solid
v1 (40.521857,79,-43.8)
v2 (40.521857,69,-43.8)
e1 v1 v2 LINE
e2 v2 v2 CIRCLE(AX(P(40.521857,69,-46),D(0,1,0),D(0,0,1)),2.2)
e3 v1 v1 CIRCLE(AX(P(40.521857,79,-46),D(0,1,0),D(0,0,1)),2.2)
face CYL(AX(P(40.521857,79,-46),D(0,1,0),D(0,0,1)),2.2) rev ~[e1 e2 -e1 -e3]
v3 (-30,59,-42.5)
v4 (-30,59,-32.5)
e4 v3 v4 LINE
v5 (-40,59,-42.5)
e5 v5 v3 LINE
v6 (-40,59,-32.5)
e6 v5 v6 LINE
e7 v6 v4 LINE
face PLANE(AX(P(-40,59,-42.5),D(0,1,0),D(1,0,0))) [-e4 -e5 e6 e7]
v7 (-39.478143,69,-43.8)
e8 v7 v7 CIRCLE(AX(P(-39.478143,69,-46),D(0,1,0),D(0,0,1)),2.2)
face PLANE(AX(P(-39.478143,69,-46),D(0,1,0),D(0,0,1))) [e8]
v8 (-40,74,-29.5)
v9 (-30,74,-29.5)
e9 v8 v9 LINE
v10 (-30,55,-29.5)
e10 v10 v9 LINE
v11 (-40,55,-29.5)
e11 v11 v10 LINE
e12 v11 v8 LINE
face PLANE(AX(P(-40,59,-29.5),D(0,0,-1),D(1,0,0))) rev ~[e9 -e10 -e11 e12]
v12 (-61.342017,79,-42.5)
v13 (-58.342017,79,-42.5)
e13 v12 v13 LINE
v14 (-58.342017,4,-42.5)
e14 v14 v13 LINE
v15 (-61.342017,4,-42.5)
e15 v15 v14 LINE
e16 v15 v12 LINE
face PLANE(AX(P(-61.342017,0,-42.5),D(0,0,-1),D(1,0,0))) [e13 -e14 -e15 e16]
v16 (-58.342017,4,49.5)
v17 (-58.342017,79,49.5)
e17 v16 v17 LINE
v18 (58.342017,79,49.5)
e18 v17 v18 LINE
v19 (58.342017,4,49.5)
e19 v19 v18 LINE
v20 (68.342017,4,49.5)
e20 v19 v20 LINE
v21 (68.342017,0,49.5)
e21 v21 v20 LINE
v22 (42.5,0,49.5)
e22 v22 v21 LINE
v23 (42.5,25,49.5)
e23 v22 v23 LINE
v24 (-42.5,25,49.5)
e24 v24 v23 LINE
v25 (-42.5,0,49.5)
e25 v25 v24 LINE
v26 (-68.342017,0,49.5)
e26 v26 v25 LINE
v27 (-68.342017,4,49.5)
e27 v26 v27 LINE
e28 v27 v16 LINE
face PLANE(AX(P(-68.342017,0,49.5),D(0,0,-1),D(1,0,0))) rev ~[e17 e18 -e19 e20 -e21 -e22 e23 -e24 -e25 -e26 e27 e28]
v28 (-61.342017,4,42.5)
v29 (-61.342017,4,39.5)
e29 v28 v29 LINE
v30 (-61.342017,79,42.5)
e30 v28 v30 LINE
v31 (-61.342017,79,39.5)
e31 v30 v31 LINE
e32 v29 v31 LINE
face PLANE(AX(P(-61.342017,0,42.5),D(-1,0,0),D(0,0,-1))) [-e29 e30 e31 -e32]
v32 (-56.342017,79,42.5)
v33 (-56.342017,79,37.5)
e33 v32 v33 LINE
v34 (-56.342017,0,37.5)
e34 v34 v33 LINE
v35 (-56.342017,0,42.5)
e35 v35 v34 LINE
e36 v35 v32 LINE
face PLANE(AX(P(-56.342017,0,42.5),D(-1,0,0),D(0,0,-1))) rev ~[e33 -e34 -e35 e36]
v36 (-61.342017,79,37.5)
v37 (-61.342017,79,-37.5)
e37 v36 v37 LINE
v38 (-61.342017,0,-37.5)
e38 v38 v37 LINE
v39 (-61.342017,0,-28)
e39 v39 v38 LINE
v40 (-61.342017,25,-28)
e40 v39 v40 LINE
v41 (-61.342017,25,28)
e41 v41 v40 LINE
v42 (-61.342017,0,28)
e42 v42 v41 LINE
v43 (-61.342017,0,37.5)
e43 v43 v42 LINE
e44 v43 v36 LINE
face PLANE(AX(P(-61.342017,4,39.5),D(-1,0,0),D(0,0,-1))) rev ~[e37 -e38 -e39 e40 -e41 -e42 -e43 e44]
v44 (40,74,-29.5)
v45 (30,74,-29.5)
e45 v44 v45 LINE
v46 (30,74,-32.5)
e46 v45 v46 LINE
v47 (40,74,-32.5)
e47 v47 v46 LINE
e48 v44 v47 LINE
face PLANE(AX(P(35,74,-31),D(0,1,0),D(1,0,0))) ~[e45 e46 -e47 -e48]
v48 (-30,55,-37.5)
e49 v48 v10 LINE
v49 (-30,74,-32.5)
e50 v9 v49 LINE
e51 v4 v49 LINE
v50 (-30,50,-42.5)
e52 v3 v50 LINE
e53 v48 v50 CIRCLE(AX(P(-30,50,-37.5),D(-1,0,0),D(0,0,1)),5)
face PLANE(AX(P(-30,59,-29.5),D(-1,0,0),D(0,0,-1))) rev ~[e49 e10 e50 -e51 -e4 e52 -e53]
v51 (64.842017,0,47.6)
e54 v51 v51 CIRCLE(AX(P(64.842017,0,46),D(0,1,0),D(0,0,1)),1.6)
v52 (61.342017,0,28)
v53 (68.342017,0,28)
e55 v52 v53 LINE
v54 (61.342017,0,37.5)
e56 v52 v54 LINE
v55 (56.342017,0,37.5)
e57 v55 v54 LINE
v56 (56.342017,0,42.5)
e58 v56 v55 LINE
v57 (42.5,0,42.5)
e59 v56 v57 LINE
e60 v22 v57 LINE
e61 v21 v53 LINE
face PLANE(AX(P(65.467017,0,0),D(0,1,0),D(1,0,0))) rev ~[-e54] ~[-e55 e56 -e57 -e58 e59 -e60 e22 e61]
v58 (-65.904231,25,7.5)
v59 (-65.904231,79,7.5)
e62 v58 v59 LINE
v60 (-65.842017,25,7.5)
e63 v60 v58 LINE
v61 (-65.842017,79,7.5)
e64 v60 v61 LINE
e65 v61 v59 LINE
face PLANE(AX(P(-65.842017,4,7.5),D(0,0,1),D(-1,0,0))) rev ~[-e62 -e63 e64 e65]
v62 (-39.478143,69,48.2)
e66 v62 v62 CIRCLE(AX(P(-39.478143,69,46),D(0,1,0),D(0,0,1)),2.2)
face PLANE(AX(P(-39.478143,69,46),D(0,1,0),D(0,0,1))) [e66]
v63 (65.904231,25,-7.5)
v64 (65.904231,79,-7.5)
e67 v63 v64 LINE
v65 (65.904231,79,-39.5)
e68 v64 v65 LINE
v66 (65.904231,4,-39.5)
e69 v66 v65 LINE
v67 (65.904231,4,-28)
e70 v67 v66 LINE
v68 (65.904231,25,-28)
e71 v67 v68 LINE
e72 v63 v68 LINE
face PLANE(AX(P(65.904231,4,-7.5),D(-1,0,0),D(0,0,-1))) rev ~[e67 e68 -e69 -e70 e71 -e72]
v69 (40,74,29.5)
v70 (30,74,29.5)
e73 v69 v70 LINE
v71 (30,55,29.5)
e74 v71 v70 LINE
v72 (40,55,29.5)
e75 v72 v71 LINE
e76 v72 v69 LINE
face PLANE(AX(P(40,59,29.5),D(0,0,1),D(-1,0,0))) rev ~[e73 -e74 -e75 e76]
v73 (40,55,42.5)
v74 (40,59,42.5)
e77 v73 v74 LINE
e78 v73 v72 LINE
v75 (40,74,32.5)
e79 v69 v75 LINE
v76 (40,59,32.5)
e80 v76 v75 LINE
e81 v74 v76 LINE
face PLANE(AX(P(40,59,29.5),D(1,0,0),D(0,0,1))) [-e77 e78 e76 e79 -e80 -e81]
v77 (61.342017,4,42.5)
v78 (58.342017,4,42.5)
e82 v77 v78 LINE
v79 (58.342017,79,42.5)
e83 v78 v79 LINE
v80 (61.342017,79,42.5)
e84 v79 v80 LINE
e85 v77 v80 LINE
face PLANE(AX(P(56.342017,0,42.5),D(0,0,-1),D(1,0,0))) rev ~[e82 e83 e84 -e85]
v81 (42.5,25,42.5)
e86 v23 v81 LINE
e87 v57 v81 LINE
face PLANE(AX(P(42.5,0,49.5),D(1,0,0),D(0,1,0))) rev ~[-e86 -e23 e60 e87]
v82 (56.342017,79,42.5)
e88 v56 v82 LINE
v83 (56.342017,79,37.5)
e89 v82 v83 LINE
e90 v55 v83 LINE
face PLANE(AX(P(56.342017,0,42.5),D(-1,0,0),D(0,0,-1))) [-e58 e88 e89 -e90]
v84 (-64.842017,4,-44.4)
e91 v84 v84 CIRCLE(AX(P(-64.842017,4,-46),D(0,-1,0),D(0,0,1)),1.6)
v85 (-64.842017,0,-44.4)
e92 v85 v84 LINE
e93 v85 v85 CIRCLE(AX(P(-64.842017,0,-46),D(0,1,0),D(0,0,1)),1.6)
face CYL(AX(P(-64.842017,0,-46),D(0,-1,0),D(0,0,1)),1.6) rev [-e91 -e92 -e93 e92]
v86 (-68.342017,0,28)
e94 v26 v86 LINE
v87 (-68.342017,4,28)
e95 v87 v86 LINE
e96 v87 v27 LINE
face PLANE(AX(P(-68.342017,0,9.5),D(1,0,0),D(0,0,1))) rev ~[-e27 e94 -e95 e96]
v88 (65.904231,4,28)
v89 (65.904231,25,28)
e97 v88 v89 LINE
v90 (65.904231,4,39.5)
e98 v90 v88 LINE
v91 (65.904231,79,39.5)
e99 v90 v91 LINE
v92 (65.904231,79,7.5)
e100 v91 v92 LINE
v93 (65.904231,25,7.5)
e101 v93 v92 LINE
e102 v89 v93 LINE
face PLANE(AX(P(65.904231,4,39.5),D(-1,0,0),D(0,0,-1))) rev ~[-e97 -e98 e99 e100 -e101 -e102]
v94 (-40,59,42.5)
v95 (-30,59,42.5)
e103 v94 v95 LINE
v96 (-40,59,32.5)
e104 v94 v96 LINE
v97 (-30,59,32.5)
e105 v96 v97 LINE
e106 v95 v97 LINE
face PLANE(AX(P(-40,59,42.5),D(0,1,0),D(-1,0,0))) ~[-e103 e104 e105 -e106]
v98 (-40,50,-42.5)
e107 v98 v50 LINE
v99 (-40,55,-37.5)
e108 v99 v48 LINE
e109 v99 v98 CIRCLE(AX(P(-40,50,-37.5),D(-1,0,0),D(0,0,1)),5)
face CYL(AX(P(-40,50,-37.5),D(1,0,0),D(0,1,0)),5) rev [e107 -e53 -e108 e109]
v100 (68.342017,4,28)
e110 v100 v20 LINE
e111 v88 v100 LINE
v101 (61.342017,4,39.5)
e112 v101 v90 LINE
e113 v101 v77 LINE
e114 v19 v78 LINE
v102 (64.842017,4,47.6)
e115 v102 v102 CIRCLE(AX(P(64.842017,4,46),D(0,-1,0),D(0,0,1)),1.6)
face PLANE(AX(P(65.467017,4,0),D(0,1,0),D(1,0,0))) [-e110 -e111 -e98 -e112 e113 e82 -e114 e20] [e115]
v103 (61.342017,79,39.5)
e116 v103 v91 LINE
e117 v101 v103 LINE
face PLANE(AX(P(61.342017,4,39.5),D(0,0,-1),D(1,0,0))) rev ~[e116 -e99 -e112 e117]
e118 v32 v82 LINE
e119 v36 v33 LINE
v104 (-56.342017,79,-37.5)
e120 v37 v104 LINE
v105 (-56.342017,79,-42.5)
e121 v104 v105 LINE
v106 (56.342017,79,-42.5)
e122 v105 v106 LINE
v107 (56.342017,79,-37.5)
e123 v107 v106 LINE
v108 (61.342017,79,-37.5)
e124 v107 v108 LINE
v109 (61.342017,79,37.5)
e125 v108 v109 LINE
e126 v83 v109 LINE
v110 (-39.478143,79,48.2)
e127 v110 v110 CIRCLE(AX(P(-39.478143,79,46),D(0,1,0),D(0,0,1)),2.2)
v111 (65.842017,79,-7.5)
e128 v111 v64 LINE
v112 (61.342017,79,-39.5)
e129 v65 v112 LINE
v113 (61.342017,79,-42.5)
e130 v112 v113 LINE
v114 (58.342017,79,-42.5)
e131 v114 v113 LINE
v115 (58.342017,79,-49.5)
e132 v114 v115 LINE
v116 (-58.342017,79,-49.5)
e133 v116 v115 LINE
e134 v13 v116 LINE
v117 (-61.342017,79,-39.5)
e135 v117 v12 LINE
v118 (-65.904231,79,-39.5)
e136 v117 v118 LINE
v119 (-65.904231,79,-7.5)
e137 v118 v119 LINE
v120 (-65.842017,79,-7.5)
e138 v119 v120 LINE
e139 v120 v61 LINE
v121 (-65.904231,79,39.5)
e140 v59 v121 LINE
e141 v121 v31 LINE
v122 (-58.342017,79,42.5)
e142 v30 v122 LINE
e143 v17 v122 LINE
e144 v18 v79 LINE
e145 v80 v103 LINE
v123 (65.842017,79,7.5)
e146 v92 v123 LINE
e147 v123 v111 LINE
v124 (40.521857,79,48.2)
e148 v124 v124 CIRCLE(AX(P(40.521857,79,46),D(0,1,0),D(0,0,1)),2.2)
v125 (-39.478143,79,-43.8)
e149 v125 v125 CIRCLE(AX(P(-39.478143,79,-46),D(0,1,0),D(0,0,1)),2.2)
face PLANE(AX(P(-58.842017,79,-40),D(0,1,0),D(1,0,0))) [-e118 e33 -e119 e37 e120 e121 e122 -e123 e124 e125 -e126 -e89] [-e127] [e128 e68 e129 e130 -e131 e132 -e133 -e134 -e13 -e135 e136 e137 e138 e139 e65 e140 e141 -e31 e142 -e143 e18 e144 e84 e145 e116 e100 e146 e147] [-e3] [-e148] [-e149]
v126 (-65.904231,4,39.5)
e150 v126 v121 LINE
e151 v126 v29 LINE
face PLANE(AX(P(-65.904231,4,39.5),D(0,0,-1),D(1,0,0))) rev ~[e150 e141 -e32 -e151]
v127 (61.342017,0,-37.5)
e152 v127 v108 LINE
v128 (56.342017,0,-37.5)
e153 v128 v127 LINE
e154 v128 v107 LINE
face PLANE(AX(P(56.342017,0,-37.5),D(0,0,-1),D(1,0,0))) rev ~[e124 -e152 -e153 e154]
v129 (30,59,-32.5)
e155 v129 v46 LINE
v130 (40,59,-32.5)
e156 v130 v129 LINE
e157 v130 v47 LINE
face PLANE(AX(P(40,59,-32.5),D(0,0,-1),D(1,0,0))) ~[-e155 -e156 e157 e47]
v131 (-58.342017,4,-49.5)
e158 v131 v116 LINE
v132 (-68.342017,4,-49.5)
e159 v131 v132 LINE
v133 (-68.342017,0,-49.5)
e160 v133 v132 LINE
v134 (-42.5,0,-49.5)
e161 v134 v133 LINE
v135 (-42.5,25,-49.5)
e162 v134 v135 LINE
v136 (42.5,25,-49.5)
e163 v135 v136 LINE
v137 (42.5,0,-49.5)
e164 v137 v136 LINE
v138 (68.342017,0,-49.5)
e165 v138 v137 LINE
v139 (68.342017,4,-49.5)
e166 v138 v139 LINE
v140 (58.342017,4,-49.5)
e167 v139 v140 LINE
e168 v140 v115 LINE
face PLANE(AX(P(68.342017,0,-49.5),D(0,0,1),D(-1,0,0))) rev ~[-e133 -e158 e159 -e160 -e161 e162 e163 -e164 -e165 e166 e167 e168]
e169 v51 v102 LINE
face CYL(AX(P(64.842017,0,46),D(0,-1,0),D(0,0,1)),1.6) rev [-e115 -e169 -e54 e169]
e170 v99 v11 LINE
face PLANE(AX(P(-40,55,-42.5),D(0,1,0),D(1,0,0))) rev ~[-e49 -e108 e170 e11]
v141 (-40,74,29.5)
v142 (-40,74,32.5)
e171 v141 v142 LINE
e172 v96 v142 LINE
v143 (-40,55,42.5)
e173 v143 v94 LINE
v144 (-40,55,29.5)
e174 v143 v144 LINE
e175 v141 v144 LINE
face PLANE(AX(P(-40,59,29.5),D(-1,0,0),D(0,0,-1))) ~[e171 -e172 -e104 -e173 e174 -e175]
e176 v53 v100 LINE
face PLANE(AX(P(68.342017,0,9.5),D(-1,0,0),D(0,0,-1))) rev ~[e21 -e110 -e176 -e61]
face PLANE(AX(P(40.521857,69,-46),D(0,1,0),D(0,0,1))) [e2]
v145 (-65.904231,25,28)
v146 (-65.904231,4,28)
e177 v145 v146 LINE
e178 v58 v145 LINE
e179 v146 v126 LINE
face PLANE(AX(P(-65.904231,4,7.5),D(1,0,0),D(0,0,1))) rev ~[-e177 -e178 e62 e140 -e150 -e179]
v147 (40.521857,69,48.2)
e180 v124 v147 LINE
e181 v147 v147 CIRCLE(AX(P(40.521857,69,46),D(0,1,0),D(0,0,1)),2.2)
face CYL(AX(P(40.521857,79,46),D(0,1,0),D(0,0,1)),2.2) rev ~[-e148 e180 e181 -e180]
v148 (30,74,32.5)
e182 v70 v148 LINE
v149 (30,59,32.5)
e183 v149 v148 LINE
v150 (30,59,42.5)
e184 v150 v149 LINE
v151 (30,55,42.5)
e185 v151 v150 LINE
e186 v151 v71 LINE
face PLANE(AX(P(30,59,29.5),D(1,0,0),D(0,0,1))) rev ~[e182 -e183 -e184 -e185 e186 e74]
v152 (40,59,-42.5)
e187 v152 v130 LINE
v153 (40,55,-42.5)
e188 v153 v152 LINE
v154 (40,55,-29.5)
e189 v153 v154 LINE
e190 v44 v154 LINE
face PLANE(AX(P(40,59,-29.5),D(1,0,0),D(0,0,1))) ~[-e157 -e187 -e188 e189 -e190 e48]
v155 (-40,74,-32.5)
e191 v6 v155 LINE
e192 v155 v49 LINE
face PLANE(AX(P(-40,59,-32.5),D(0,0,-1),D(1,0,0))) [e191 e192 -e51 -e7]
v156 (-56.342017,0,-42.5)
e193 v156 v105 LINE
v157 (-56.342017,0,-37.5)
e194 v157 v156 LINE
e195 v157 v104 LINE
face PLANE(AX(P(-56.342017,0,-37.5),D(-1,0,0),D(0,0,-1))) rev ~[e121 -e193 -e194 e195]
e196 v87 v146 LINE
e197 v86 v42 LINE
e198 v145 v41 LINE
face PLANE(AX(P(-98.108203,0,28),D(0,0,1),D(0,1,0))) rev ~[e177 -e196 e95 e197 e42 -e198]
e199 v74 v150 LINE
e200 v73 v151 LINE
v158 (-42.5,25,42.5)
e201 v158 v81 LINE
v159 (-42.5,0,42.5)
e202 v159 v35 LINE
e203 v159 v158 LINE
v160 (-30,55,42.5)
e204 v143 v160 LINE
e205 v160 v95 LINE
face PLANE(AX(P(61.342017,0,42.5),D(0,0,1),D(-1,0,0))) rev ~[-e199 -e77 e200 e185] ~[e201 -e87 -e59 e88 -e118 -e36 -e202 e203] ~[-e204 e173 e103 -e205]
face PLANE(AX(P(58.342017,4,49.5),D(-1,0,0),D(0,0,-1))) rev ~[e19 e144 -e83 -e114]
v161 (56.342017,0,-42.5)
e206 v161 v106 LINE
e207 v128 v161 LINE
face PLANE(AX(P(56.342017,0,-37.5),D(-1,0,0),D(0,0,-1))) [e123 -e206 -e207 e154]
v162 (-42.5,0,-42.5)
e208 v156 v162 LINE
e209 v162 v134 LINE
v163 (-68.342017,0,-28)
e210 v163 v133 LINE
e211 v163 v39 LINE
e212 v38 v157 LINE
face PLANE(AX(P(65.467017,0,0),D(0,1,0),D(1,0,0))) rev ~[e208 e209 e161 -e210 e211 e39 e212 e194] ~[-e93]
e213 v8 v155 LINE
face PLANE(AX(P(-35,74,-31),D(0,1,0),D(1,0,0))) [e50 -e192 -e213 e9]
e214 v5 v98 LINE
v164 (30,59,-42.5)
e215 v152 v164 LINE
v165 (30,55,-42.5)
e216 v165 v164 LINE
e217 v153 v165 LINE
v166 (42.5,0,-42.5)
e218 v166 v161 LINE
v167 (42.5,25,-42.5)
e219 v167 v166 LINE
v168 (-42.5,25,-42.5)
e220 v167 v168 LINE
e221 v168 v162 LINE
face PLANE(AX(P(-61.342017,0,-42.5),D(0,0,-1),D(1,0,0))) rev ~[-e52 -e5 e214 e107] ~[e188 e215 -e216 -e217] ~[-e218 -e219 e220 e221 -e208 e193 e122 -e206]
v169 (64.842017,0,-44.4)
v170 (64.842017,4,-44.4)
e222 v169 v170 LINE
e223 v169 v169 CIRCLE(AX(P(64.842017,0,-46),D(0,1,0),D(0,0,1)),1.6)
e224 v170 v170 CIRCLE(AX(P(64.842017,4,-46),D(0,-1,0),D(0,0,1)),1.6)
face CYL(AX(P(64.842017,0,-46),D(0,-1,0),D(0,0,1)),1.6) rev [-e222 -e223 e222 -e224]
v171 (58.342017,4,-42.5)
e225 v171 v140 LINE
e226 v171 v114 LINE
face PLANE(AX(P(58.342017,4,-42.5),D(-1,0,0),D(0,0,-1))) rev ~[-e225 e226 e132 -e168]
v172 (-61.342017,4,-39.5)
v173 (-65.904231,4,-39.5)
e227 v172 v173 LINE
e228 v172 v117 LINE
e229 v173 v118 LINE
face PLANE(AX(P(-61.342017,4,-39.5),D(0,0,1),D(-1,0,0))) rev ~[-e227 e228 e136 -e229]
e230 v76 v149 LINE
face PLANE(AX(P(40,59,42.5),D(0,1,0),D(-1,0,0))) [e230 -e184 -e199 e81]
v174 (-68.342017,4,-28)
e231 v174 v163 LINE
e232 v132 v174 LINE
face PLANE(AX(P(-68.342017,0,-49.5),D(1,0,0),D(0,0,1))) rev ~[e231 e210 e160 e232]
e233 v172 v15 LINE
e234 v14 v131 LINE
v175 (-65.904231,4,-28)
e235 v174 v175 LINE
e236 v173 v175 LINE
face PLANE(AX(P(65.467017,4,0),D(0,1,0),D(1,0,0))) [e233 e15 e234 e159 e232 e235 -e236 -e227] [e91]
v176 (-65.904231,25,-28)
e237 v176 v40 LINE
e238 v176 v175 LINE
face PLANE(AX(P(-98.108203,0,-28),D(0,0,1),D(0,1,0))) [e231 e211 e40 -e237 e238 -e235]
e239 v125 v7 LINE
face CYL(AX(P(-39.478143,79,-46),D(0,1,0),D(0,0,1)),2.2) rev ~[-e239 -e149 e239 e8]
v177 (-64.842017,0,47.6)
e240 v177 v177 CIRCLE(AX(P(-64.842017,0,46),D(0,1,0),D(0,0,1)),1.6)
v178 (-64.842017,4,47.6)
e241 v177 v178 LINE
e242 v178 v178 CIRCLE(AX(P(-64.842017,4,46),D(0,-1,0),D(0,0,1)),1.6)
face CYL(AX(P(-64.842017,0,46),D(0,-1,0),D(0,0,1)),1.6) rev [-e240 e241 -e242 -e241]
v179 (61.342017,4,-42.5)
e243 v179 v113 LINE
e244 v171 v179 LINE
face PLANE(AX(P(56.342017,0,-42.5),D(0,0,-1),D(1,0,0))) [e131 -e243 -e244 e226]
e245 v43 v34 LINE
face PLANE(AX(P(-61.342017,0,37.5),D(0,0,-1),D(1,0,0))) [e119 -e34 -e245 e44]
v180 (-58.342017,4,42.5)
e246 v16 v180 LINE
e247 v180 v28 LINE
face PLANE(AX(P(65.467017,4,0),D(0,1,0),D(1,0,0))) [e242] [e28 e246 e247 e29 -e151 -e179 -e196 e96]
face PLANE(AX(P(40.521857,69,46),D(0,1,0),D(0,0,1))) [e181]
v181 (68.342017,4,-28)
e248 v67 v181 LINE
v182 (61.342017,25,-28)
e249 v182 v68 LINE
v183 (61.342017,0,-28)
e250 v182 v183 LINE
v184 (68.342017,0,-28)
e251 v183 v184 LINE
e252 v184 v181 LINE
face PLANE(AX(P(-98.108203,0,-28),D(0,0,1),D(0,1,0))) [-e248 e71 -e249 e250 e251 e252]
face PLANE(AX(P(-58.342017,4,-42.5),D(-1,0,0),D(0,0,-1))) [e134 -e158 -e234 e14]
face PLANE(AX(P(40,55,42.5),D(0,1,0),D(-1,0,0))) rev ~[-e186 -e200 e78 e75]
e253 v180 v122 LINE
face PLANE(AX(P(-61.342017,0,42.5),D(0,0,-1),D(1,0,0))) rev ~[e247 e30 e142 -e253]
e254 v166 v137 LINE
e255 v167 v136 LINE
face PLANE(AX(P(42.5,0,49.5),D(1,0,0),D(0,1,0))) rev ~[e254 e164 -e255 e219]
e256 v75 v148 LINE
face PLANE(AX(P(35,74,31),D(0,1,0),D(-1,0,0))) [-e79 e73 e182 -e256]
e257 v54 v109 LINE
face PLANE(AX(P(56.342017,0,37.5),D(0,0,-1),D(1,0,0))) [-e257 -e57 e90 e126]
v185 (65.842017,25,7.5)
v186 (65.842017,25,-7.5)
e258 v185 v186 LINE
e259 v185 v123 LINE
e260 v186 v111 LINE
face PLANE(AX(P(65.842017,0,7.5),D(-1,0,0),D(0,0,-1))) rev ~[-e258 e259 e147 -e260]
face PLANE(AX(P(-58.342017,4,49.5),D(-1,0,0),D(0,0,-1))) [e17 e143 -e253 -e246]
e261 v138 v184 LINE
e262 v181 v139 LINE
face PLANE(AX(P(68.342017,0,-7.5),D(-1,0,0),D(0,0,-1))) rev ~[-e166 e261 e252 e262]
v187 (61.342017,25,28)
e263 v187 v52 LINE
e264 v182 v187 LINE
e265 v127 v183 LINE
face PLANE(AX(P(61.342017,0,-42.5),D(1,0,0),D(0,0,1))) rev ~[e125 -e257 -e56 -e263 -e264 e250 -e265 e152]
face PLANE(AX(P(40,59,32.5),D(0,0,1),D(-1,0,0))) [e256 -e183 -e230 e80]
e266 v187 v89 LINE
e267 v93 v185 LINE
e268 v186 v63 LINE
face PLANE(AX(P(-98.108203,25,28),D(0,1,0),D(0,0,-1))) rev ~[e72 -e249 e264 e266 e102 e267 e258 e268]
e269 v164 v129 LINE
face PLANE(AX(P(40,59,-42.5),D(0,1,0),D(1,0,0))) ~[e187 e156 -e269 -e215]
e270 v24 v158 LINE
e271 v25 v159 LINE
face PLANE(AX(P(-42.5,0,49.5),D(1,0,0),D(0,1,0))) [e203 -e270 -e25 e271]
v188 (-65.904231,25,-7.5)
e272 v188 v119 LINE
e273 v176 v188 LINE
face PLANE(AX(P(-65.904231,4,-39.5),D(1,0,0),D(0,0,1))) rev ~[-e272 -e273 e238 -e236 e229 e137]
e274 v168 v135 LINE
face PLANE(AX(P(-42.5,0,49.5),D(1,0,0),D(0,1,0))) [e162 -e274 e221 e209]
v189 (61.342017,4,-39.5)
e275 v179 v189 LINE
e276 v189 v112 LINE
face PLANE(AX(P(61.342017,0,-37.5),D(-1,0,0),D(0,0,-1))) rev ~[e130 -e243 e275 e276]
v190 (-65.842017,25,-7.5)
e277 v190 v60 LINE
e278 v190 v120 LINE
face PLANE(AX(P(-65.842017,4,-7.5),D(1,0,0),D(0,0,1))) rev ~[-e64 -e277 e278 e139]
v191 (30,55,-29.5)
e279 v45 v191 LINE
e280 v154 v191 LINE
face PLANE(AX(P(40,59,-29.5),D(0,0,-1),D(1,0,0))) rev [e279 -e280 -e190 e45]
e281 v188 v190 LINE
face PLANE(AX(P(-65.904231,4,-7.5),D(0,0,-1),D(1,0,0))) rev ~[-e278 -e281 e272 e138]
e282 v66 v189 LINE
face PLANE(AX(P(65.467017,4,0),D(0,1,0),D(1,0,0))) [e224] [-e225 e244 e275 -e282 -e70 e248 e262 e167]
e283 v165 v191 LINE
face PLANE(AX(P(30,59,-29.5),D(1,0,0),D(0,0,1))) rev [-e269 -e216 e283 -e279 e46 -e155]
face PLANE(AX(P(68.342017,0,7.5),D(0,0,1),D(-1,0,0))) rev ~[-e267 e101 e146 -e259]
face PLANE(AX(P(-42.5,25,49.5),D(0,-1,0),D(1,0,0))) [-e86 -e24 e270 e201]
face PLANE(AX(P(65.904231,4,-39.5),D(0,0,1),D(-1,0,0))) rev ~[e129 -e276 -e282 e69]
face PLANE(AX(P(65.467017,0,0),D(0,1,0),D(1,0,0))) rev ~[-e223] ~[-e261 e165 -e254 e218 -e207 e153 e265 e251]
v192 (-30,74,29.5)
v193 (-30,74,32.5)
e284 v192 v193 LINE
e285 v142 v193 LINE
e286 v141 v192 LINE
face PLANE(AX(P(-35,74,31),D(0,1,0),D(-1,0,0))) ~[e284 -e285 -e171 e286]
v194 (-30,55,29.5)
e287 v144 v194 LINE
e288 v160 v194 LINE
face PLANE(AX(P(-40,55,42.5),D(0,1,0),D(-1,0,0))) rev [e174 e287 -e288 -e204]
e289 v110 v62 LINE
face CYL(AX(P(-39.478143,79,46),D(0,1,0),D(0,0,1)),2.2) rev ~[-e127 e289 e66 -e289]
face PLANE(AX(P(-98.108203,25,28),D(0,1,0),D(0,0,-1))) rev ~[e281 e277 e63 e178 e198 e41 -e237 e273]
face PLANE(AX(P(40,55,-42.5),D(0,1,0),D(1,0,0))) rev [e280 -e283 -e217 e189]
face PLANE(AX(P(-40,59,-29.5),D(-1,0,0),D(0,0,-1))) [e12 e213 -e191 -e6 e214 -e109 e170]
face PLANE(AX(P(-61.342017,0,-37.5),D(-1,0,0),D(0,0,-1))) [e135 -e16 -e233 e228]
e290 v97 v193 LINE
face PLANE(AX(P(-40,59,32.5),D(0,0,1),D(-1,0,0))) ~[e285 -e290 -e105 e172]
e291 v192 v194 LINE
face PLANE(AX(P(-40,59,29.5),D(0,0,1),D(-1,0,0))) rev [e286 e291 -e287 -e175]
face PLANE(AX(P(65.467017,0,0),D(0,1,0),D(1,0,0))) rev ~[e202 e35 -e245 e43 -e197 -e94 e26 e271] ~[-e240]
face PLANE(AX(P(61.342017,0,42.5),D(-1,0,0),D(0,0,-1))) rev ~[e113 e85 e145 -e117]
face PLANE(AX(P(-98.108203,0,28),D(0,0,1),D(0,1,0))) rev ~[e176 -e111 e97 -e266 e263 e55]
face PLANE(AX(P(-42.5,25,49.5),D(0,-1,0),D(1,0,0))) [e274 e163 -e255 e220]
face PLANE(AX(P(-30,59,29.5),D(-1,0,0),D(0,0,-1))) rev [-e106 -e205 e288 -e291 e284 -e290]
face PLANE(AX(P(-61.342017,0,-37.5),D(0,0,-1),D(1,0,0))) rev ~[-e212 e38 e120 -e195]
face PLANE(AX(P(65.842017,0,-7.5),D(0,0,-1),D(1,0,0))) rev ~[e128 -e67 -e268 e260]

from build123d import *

# Parameters (mm, degrees)
SKETCH1_W               = 122.684034766
SKETCH1_H               = 85
BOSS_EXTRUDE1_DEPTH     = 4
CUT_EXTRUDE3_REACH      = 86.48
SKETCH3_R               = 1.6
SKETCH4_W               = 116.684034766
SKETCH4_H               = 7
BOSS_EXTRUDE2_DEPTH     = 75
SKETCH1_3_W             = 5
SKETCH1_3_H             = 5
BOSS_EXTRUDE3_DEPTH     = 79
SKETCH5_W               = 85
SKETCH5_H               = 25
CUT_EXTRUDE4_DEPTH      = 144.918835946
CUT_EXTRUDE5_DEPTH      = 166.450220187
CUT_EXTRUDE5_DEPTH_BACK = 166.450220187
SKETCH6_W               = 56
SKETCH6_H               = 25
SKETCH7_R               = 2.2
CUT_EXTRUDE6_DEPTH      = 10
BOSS_EXTRUDE4_DEPTH     = 13
SKETCH9_W               = 10
SKETCH9_H               = 3
BOSS_EXTRUDE5_DEPTH     = 15
FILLET1_R               = 5
MIRROR2_COPY_1_DEPTH    = 13
MIRROR2_COPY_2_SKETCH_W = 10
MIRROR2_COPY_2_SKETCH_H = 3
MIRROR2_COPY_2_DEPTH    = 15


with BuildPart() as part:
    # Sketch1 → Boss-Extrude1 (new body)
    with BuildSketch(Plane(origin=(0, 0, 0), x_dir=(1, 0, 0), z_dir=(0, 1, 0))):
        Polygon((-68.342017383, -49.5), (68.342017383, -49.5), (68.342017383, -7.5), (65.842017383, -7.5), (65.842017383, 7.5), (68.342017383, 7.5), (68.342017383, 49.5), (-68.342017383, 49.5), (-68.342017383, 7.5), (-65.842017383, 7.5), (-65.842017383, -7.5), (-68.342017383, -7.5), align=None)
        Rectangle(SKETCH1_W, SKETCH1_H, mode=Mode.SUBTRACT)
    extrude(amount=BOSS_EXTRUDE1_DEPTH)

    # Sketch3 → Cut-Extrude3 (cut, up to next)
    with BuildSketch(Plane(origin=(0, 0, 0), x_dir=(1, 0, 0), z_dir=(0, 1, 0)), mode=Mode.PRIVATE) as cut_extrude3_sk1:
        with Locations((64.842017383, -46)):
            Circle(SKETCH3_R)
    cut_extrude3_tool1 = extrude(cut_extrude3_sk1.sketch, amount=CUT_EXTRUDE3_REACH, mode=Mode.PRIVATE) & part.part
    # Sketch3 → Cut-Extrude3 (cut, up to next)
    with BuildSketch(Plane(origin=(0, 0, 0), x_dir=(1, 0, 0), z_dir=(0, 1, 0)), mode=Mode.PRIVATE) as cut_extrude3_sk2:
        with Locations((64.842017383, 46)):
            Circle(SKETCH3_R)
    cut_extrude3_tool2 = extrude(cut_extrude3_sk2.sketch, amount=CUT_EXTRUDE3_REACH, mode=Mode.PRIVATE) & part.part
    # Sketch3 → Cut-Extrude3 (cut, up to next)
    with BuildSketch(Plane(origin=(0, 0, 0), x_dir=(1, 0, 0), z_dir=(0, 1, 0)), mode=Mode.PRIVATE) as cut_extrude3_sk3:
        with Locations((-64.842017383, 46)):
            Circle(SKETCH3_R)
    cut_extrude3_tool3 = extrude(cut_extrude3_sk3.sketch, amount=CUT_EXTRUDE3_REACH, mode=Mode.PRIVATE) & part.part
    # Sketch3 → Cut-Extrude3 (cut, up to next)
    with BuildSketch(Plane(origin=(0, 0, 0), x_dir=(1, 0, 0), z_dir=(0, 1, 0)), mode=Mode.PRIVATE) as cut_extrude3_sk4:
        with Locations((-64.842017383, -46)):
            Circle(SKETCH3_R)
    cut_extrude3_tool4 = extrude(cut_extrude3_sk4.sketch, amount=CUT_EXTRUDE3_REACH, mode=Mode.PRIVATE) & part.part
    add(cut_extrude3_tool1.solids().sort_by_distance((64.842017, 0, 46))[0], mode=Mode.SUBTRACT)
    add(cut_extrude3_tool2.solids().sort_by_distance((64.842017, 0, -46))[0], mode=Mode.SUBTRACT)
    add(cut_extrude3_tool3.solids().sort_by_distance((-64.842017, 0, -46))[0], mode=Mode.SUBTRACT)
    add(cut_extrude3_tool4.solids().sort_by_distance((-64.842017, 0, 46))[0], mode=Mode.SUBTRACT)

    # Sketch4 → Boss-Extrude2 (add)
    with BuildSketch(Plane(origin=(0, 4, 0), x_dir=(1, 0, 0), z_dir=(0, 1, 0))):
        with Locations((0, 46)):
            Rectangle(SKETCH4_W, SKETCH4_H)
        Polygon((-61.342017383, -39.5), (-61.342017383, 39.5), (-65.904231228, 39.5), (-65.904231228, 7.5), (-65.842017383, 7.5), (-65.842017383, -7.5), (-65.904231228, -7.5), (-65.904231228, -39.5), align=None)
        Polygon((65.904231228, 39.5), (61.342017383, 39.5), (61.342017383, -39.5), (65.904231228, -39.5), (65.904231228, -7.5), (65.842017383, -7.5), (65.842017383, 7.5), (65.904231228, 7.5), align=None)
        with Locations((0, -46)):
            Rectangle(SKETCH4_W, SKETCH4_H)
    extrude(amount=BOSS_EXTRUDE2_DEPTH)

    # Sketch1<3> → Boss-Extrude3 (add)
    with BuildSketch(Plane(origin=(0, 0, 0), x_dir=(1, 0, 0), z_dir=(0, 1, 0))):
        with Locations((-58.842017383, -40)):
            Rectangle(SKETCH1_3_W, SKETCH1_3_H)
        with Locations((58.842017383, -40)):
            Rectangle(SKETCH1_3_W, SKETCH1_3_H)
        with Locations((-58.842017383, 40)):
            Rectangle(SKETCH1_3_W, SKETCH1_3_H)
        with Locations((58.842017383, 40)):
            Rectangle(SKETCH1_3_W, SKETCH1_3_H)
    extrude(amount=BOSS_EXTRUDE3_DEPTH)

    # Sketch5 → Cut-Extrude4 (cut, through all)
    with BuildSketch(Plane.XY.offset(49.5)):
        with Locations((0, 12.5)):
            Rectangle(SKETCH5_W, SKETCH5_H)
    extrude(amount=-CUT_EXTRUDE4_DEPTH, mode=Mode.SUBTRACT)

    # Sketch6 → Cut-Extrude5 (cut, two sides: drawn at the far end of the back side and taken through both)
    with BuildSketch(Plane(origin=(68.342017383, 0, 0), x_dir=(0, 0, -1), z_dir=(1, 0, 0)).offset(-CUT_EXTRUDE5_DEPTH_BACK)):
        with Locations((0, 12.5)):
            Rectangle(SKETCH6_W, SKETCH6_H)
    extrude(amount=CUT_EXTRUDE5_DEPTH + CUT_EXTRUDE5_DEPTH_BACK, mode=Mode.SUBTRACT)

    # Sketch7 → Cut-Extrude6 (cut)
    with BuildSketch(Plane(origin=(0, 79, 0), x_dir=(1, 0, 0), z_dir=(0, 1, 0))):
        with Locations((40.521857066, 46)):
            Circle(SKETCH7_R)
        with Locations((-39.478142934, 46)):
            Circle(SKETCH7_R)
        with Locations((-39.478142934, -46)):
            Circle(SKETCH7_R)
        with Locations((40.521857066, -46)):
            Circle(SKETCH7_R)
    extrude(amount=-CUT_EXTRUDE6_DEPTH, mode=Mode.SUBTRACT)

    # Sketch8 → Boss-Extrude4 (add)
    with BuildSketch(Plane.XY.offset(-42.5)):
        Polygon((-35, 59), (-40, 59), (-40, 55), (-30, 55), (-30, 59), align=None)
    boss_extrude4 = extrude(amount=BOSS_EXTRUDE4_DEPTH)

    # Sketch9 → Boss-Extrude5 (add)
    with BuildSketch(Plane(origin=(0, 59, 0), x_dir=(1, 0, 0), z_dir=(0, 1, 0))):
        with Locations((-35, 31)):
            Rectangle(SKETCH9_W, SKETCH9_H)
    boss_extrude5 = extrude(amount=BOSS_EXTRUDE5_DEPTH)

    # Fillet1
    fillet1_edges = [part.edges().sort_by_distance(p)[0] for p in [
        (-35, 55, -42.5),
    ]]
    fillet(fillet1_edges, radius=FILLET1_R)

    # Mirror1: Boss-Extrude4, Boss-Extrude5 across plane
    add(boss_extrude4.mirror(Plane.XY))
    add(boss_extrude5.mirror(Plane.XY))

    # Mirror2: Boss-Extrude4, Boss-Extrude5 across plane
    add(boss_extrude4.mirror(Plane(origin=(0, 0, 0), x_dir=(0, 0, 1), z_dir=(1, 0, 0))))
    add(boss_extrude5.mirror(Plane(origin=(0, 0, 0), x_dir=(0, 0, 1), z_dir=(1, 0, 0))))

    # Mirror2 copy 1 sketch → Mirror2 copy 1 (add)
    with BuildSketch(Plane(origin=(0, 0, 42.5), x_dir=(-1, 0, 0), z_dir=(0, 0, -1))):
        Polygon((-35, 59), (-40, 59), (-40, 55), (-30, 55), (-30, 59), align=None)
    extrude(amount=MIRROR2_COPY_1_DEPTH)

    # Mirror2 copy 2 sketch → Mirror2 copy 2 (add)
    with BuildSketch(Plane(origin=(0, 59, 0), x_dir=(-1, 0, 0), z_dir=(0, 1, 0))):
        with Locations((-35, 31)):
            Rectangle(MIRROR2_COPY_2_SKETCH_W, MIRROR2_COPY_2_SKETCH_H)
    extrude(amount=MIRROR2_COPY_2_DEPTH)


solid = part.part
